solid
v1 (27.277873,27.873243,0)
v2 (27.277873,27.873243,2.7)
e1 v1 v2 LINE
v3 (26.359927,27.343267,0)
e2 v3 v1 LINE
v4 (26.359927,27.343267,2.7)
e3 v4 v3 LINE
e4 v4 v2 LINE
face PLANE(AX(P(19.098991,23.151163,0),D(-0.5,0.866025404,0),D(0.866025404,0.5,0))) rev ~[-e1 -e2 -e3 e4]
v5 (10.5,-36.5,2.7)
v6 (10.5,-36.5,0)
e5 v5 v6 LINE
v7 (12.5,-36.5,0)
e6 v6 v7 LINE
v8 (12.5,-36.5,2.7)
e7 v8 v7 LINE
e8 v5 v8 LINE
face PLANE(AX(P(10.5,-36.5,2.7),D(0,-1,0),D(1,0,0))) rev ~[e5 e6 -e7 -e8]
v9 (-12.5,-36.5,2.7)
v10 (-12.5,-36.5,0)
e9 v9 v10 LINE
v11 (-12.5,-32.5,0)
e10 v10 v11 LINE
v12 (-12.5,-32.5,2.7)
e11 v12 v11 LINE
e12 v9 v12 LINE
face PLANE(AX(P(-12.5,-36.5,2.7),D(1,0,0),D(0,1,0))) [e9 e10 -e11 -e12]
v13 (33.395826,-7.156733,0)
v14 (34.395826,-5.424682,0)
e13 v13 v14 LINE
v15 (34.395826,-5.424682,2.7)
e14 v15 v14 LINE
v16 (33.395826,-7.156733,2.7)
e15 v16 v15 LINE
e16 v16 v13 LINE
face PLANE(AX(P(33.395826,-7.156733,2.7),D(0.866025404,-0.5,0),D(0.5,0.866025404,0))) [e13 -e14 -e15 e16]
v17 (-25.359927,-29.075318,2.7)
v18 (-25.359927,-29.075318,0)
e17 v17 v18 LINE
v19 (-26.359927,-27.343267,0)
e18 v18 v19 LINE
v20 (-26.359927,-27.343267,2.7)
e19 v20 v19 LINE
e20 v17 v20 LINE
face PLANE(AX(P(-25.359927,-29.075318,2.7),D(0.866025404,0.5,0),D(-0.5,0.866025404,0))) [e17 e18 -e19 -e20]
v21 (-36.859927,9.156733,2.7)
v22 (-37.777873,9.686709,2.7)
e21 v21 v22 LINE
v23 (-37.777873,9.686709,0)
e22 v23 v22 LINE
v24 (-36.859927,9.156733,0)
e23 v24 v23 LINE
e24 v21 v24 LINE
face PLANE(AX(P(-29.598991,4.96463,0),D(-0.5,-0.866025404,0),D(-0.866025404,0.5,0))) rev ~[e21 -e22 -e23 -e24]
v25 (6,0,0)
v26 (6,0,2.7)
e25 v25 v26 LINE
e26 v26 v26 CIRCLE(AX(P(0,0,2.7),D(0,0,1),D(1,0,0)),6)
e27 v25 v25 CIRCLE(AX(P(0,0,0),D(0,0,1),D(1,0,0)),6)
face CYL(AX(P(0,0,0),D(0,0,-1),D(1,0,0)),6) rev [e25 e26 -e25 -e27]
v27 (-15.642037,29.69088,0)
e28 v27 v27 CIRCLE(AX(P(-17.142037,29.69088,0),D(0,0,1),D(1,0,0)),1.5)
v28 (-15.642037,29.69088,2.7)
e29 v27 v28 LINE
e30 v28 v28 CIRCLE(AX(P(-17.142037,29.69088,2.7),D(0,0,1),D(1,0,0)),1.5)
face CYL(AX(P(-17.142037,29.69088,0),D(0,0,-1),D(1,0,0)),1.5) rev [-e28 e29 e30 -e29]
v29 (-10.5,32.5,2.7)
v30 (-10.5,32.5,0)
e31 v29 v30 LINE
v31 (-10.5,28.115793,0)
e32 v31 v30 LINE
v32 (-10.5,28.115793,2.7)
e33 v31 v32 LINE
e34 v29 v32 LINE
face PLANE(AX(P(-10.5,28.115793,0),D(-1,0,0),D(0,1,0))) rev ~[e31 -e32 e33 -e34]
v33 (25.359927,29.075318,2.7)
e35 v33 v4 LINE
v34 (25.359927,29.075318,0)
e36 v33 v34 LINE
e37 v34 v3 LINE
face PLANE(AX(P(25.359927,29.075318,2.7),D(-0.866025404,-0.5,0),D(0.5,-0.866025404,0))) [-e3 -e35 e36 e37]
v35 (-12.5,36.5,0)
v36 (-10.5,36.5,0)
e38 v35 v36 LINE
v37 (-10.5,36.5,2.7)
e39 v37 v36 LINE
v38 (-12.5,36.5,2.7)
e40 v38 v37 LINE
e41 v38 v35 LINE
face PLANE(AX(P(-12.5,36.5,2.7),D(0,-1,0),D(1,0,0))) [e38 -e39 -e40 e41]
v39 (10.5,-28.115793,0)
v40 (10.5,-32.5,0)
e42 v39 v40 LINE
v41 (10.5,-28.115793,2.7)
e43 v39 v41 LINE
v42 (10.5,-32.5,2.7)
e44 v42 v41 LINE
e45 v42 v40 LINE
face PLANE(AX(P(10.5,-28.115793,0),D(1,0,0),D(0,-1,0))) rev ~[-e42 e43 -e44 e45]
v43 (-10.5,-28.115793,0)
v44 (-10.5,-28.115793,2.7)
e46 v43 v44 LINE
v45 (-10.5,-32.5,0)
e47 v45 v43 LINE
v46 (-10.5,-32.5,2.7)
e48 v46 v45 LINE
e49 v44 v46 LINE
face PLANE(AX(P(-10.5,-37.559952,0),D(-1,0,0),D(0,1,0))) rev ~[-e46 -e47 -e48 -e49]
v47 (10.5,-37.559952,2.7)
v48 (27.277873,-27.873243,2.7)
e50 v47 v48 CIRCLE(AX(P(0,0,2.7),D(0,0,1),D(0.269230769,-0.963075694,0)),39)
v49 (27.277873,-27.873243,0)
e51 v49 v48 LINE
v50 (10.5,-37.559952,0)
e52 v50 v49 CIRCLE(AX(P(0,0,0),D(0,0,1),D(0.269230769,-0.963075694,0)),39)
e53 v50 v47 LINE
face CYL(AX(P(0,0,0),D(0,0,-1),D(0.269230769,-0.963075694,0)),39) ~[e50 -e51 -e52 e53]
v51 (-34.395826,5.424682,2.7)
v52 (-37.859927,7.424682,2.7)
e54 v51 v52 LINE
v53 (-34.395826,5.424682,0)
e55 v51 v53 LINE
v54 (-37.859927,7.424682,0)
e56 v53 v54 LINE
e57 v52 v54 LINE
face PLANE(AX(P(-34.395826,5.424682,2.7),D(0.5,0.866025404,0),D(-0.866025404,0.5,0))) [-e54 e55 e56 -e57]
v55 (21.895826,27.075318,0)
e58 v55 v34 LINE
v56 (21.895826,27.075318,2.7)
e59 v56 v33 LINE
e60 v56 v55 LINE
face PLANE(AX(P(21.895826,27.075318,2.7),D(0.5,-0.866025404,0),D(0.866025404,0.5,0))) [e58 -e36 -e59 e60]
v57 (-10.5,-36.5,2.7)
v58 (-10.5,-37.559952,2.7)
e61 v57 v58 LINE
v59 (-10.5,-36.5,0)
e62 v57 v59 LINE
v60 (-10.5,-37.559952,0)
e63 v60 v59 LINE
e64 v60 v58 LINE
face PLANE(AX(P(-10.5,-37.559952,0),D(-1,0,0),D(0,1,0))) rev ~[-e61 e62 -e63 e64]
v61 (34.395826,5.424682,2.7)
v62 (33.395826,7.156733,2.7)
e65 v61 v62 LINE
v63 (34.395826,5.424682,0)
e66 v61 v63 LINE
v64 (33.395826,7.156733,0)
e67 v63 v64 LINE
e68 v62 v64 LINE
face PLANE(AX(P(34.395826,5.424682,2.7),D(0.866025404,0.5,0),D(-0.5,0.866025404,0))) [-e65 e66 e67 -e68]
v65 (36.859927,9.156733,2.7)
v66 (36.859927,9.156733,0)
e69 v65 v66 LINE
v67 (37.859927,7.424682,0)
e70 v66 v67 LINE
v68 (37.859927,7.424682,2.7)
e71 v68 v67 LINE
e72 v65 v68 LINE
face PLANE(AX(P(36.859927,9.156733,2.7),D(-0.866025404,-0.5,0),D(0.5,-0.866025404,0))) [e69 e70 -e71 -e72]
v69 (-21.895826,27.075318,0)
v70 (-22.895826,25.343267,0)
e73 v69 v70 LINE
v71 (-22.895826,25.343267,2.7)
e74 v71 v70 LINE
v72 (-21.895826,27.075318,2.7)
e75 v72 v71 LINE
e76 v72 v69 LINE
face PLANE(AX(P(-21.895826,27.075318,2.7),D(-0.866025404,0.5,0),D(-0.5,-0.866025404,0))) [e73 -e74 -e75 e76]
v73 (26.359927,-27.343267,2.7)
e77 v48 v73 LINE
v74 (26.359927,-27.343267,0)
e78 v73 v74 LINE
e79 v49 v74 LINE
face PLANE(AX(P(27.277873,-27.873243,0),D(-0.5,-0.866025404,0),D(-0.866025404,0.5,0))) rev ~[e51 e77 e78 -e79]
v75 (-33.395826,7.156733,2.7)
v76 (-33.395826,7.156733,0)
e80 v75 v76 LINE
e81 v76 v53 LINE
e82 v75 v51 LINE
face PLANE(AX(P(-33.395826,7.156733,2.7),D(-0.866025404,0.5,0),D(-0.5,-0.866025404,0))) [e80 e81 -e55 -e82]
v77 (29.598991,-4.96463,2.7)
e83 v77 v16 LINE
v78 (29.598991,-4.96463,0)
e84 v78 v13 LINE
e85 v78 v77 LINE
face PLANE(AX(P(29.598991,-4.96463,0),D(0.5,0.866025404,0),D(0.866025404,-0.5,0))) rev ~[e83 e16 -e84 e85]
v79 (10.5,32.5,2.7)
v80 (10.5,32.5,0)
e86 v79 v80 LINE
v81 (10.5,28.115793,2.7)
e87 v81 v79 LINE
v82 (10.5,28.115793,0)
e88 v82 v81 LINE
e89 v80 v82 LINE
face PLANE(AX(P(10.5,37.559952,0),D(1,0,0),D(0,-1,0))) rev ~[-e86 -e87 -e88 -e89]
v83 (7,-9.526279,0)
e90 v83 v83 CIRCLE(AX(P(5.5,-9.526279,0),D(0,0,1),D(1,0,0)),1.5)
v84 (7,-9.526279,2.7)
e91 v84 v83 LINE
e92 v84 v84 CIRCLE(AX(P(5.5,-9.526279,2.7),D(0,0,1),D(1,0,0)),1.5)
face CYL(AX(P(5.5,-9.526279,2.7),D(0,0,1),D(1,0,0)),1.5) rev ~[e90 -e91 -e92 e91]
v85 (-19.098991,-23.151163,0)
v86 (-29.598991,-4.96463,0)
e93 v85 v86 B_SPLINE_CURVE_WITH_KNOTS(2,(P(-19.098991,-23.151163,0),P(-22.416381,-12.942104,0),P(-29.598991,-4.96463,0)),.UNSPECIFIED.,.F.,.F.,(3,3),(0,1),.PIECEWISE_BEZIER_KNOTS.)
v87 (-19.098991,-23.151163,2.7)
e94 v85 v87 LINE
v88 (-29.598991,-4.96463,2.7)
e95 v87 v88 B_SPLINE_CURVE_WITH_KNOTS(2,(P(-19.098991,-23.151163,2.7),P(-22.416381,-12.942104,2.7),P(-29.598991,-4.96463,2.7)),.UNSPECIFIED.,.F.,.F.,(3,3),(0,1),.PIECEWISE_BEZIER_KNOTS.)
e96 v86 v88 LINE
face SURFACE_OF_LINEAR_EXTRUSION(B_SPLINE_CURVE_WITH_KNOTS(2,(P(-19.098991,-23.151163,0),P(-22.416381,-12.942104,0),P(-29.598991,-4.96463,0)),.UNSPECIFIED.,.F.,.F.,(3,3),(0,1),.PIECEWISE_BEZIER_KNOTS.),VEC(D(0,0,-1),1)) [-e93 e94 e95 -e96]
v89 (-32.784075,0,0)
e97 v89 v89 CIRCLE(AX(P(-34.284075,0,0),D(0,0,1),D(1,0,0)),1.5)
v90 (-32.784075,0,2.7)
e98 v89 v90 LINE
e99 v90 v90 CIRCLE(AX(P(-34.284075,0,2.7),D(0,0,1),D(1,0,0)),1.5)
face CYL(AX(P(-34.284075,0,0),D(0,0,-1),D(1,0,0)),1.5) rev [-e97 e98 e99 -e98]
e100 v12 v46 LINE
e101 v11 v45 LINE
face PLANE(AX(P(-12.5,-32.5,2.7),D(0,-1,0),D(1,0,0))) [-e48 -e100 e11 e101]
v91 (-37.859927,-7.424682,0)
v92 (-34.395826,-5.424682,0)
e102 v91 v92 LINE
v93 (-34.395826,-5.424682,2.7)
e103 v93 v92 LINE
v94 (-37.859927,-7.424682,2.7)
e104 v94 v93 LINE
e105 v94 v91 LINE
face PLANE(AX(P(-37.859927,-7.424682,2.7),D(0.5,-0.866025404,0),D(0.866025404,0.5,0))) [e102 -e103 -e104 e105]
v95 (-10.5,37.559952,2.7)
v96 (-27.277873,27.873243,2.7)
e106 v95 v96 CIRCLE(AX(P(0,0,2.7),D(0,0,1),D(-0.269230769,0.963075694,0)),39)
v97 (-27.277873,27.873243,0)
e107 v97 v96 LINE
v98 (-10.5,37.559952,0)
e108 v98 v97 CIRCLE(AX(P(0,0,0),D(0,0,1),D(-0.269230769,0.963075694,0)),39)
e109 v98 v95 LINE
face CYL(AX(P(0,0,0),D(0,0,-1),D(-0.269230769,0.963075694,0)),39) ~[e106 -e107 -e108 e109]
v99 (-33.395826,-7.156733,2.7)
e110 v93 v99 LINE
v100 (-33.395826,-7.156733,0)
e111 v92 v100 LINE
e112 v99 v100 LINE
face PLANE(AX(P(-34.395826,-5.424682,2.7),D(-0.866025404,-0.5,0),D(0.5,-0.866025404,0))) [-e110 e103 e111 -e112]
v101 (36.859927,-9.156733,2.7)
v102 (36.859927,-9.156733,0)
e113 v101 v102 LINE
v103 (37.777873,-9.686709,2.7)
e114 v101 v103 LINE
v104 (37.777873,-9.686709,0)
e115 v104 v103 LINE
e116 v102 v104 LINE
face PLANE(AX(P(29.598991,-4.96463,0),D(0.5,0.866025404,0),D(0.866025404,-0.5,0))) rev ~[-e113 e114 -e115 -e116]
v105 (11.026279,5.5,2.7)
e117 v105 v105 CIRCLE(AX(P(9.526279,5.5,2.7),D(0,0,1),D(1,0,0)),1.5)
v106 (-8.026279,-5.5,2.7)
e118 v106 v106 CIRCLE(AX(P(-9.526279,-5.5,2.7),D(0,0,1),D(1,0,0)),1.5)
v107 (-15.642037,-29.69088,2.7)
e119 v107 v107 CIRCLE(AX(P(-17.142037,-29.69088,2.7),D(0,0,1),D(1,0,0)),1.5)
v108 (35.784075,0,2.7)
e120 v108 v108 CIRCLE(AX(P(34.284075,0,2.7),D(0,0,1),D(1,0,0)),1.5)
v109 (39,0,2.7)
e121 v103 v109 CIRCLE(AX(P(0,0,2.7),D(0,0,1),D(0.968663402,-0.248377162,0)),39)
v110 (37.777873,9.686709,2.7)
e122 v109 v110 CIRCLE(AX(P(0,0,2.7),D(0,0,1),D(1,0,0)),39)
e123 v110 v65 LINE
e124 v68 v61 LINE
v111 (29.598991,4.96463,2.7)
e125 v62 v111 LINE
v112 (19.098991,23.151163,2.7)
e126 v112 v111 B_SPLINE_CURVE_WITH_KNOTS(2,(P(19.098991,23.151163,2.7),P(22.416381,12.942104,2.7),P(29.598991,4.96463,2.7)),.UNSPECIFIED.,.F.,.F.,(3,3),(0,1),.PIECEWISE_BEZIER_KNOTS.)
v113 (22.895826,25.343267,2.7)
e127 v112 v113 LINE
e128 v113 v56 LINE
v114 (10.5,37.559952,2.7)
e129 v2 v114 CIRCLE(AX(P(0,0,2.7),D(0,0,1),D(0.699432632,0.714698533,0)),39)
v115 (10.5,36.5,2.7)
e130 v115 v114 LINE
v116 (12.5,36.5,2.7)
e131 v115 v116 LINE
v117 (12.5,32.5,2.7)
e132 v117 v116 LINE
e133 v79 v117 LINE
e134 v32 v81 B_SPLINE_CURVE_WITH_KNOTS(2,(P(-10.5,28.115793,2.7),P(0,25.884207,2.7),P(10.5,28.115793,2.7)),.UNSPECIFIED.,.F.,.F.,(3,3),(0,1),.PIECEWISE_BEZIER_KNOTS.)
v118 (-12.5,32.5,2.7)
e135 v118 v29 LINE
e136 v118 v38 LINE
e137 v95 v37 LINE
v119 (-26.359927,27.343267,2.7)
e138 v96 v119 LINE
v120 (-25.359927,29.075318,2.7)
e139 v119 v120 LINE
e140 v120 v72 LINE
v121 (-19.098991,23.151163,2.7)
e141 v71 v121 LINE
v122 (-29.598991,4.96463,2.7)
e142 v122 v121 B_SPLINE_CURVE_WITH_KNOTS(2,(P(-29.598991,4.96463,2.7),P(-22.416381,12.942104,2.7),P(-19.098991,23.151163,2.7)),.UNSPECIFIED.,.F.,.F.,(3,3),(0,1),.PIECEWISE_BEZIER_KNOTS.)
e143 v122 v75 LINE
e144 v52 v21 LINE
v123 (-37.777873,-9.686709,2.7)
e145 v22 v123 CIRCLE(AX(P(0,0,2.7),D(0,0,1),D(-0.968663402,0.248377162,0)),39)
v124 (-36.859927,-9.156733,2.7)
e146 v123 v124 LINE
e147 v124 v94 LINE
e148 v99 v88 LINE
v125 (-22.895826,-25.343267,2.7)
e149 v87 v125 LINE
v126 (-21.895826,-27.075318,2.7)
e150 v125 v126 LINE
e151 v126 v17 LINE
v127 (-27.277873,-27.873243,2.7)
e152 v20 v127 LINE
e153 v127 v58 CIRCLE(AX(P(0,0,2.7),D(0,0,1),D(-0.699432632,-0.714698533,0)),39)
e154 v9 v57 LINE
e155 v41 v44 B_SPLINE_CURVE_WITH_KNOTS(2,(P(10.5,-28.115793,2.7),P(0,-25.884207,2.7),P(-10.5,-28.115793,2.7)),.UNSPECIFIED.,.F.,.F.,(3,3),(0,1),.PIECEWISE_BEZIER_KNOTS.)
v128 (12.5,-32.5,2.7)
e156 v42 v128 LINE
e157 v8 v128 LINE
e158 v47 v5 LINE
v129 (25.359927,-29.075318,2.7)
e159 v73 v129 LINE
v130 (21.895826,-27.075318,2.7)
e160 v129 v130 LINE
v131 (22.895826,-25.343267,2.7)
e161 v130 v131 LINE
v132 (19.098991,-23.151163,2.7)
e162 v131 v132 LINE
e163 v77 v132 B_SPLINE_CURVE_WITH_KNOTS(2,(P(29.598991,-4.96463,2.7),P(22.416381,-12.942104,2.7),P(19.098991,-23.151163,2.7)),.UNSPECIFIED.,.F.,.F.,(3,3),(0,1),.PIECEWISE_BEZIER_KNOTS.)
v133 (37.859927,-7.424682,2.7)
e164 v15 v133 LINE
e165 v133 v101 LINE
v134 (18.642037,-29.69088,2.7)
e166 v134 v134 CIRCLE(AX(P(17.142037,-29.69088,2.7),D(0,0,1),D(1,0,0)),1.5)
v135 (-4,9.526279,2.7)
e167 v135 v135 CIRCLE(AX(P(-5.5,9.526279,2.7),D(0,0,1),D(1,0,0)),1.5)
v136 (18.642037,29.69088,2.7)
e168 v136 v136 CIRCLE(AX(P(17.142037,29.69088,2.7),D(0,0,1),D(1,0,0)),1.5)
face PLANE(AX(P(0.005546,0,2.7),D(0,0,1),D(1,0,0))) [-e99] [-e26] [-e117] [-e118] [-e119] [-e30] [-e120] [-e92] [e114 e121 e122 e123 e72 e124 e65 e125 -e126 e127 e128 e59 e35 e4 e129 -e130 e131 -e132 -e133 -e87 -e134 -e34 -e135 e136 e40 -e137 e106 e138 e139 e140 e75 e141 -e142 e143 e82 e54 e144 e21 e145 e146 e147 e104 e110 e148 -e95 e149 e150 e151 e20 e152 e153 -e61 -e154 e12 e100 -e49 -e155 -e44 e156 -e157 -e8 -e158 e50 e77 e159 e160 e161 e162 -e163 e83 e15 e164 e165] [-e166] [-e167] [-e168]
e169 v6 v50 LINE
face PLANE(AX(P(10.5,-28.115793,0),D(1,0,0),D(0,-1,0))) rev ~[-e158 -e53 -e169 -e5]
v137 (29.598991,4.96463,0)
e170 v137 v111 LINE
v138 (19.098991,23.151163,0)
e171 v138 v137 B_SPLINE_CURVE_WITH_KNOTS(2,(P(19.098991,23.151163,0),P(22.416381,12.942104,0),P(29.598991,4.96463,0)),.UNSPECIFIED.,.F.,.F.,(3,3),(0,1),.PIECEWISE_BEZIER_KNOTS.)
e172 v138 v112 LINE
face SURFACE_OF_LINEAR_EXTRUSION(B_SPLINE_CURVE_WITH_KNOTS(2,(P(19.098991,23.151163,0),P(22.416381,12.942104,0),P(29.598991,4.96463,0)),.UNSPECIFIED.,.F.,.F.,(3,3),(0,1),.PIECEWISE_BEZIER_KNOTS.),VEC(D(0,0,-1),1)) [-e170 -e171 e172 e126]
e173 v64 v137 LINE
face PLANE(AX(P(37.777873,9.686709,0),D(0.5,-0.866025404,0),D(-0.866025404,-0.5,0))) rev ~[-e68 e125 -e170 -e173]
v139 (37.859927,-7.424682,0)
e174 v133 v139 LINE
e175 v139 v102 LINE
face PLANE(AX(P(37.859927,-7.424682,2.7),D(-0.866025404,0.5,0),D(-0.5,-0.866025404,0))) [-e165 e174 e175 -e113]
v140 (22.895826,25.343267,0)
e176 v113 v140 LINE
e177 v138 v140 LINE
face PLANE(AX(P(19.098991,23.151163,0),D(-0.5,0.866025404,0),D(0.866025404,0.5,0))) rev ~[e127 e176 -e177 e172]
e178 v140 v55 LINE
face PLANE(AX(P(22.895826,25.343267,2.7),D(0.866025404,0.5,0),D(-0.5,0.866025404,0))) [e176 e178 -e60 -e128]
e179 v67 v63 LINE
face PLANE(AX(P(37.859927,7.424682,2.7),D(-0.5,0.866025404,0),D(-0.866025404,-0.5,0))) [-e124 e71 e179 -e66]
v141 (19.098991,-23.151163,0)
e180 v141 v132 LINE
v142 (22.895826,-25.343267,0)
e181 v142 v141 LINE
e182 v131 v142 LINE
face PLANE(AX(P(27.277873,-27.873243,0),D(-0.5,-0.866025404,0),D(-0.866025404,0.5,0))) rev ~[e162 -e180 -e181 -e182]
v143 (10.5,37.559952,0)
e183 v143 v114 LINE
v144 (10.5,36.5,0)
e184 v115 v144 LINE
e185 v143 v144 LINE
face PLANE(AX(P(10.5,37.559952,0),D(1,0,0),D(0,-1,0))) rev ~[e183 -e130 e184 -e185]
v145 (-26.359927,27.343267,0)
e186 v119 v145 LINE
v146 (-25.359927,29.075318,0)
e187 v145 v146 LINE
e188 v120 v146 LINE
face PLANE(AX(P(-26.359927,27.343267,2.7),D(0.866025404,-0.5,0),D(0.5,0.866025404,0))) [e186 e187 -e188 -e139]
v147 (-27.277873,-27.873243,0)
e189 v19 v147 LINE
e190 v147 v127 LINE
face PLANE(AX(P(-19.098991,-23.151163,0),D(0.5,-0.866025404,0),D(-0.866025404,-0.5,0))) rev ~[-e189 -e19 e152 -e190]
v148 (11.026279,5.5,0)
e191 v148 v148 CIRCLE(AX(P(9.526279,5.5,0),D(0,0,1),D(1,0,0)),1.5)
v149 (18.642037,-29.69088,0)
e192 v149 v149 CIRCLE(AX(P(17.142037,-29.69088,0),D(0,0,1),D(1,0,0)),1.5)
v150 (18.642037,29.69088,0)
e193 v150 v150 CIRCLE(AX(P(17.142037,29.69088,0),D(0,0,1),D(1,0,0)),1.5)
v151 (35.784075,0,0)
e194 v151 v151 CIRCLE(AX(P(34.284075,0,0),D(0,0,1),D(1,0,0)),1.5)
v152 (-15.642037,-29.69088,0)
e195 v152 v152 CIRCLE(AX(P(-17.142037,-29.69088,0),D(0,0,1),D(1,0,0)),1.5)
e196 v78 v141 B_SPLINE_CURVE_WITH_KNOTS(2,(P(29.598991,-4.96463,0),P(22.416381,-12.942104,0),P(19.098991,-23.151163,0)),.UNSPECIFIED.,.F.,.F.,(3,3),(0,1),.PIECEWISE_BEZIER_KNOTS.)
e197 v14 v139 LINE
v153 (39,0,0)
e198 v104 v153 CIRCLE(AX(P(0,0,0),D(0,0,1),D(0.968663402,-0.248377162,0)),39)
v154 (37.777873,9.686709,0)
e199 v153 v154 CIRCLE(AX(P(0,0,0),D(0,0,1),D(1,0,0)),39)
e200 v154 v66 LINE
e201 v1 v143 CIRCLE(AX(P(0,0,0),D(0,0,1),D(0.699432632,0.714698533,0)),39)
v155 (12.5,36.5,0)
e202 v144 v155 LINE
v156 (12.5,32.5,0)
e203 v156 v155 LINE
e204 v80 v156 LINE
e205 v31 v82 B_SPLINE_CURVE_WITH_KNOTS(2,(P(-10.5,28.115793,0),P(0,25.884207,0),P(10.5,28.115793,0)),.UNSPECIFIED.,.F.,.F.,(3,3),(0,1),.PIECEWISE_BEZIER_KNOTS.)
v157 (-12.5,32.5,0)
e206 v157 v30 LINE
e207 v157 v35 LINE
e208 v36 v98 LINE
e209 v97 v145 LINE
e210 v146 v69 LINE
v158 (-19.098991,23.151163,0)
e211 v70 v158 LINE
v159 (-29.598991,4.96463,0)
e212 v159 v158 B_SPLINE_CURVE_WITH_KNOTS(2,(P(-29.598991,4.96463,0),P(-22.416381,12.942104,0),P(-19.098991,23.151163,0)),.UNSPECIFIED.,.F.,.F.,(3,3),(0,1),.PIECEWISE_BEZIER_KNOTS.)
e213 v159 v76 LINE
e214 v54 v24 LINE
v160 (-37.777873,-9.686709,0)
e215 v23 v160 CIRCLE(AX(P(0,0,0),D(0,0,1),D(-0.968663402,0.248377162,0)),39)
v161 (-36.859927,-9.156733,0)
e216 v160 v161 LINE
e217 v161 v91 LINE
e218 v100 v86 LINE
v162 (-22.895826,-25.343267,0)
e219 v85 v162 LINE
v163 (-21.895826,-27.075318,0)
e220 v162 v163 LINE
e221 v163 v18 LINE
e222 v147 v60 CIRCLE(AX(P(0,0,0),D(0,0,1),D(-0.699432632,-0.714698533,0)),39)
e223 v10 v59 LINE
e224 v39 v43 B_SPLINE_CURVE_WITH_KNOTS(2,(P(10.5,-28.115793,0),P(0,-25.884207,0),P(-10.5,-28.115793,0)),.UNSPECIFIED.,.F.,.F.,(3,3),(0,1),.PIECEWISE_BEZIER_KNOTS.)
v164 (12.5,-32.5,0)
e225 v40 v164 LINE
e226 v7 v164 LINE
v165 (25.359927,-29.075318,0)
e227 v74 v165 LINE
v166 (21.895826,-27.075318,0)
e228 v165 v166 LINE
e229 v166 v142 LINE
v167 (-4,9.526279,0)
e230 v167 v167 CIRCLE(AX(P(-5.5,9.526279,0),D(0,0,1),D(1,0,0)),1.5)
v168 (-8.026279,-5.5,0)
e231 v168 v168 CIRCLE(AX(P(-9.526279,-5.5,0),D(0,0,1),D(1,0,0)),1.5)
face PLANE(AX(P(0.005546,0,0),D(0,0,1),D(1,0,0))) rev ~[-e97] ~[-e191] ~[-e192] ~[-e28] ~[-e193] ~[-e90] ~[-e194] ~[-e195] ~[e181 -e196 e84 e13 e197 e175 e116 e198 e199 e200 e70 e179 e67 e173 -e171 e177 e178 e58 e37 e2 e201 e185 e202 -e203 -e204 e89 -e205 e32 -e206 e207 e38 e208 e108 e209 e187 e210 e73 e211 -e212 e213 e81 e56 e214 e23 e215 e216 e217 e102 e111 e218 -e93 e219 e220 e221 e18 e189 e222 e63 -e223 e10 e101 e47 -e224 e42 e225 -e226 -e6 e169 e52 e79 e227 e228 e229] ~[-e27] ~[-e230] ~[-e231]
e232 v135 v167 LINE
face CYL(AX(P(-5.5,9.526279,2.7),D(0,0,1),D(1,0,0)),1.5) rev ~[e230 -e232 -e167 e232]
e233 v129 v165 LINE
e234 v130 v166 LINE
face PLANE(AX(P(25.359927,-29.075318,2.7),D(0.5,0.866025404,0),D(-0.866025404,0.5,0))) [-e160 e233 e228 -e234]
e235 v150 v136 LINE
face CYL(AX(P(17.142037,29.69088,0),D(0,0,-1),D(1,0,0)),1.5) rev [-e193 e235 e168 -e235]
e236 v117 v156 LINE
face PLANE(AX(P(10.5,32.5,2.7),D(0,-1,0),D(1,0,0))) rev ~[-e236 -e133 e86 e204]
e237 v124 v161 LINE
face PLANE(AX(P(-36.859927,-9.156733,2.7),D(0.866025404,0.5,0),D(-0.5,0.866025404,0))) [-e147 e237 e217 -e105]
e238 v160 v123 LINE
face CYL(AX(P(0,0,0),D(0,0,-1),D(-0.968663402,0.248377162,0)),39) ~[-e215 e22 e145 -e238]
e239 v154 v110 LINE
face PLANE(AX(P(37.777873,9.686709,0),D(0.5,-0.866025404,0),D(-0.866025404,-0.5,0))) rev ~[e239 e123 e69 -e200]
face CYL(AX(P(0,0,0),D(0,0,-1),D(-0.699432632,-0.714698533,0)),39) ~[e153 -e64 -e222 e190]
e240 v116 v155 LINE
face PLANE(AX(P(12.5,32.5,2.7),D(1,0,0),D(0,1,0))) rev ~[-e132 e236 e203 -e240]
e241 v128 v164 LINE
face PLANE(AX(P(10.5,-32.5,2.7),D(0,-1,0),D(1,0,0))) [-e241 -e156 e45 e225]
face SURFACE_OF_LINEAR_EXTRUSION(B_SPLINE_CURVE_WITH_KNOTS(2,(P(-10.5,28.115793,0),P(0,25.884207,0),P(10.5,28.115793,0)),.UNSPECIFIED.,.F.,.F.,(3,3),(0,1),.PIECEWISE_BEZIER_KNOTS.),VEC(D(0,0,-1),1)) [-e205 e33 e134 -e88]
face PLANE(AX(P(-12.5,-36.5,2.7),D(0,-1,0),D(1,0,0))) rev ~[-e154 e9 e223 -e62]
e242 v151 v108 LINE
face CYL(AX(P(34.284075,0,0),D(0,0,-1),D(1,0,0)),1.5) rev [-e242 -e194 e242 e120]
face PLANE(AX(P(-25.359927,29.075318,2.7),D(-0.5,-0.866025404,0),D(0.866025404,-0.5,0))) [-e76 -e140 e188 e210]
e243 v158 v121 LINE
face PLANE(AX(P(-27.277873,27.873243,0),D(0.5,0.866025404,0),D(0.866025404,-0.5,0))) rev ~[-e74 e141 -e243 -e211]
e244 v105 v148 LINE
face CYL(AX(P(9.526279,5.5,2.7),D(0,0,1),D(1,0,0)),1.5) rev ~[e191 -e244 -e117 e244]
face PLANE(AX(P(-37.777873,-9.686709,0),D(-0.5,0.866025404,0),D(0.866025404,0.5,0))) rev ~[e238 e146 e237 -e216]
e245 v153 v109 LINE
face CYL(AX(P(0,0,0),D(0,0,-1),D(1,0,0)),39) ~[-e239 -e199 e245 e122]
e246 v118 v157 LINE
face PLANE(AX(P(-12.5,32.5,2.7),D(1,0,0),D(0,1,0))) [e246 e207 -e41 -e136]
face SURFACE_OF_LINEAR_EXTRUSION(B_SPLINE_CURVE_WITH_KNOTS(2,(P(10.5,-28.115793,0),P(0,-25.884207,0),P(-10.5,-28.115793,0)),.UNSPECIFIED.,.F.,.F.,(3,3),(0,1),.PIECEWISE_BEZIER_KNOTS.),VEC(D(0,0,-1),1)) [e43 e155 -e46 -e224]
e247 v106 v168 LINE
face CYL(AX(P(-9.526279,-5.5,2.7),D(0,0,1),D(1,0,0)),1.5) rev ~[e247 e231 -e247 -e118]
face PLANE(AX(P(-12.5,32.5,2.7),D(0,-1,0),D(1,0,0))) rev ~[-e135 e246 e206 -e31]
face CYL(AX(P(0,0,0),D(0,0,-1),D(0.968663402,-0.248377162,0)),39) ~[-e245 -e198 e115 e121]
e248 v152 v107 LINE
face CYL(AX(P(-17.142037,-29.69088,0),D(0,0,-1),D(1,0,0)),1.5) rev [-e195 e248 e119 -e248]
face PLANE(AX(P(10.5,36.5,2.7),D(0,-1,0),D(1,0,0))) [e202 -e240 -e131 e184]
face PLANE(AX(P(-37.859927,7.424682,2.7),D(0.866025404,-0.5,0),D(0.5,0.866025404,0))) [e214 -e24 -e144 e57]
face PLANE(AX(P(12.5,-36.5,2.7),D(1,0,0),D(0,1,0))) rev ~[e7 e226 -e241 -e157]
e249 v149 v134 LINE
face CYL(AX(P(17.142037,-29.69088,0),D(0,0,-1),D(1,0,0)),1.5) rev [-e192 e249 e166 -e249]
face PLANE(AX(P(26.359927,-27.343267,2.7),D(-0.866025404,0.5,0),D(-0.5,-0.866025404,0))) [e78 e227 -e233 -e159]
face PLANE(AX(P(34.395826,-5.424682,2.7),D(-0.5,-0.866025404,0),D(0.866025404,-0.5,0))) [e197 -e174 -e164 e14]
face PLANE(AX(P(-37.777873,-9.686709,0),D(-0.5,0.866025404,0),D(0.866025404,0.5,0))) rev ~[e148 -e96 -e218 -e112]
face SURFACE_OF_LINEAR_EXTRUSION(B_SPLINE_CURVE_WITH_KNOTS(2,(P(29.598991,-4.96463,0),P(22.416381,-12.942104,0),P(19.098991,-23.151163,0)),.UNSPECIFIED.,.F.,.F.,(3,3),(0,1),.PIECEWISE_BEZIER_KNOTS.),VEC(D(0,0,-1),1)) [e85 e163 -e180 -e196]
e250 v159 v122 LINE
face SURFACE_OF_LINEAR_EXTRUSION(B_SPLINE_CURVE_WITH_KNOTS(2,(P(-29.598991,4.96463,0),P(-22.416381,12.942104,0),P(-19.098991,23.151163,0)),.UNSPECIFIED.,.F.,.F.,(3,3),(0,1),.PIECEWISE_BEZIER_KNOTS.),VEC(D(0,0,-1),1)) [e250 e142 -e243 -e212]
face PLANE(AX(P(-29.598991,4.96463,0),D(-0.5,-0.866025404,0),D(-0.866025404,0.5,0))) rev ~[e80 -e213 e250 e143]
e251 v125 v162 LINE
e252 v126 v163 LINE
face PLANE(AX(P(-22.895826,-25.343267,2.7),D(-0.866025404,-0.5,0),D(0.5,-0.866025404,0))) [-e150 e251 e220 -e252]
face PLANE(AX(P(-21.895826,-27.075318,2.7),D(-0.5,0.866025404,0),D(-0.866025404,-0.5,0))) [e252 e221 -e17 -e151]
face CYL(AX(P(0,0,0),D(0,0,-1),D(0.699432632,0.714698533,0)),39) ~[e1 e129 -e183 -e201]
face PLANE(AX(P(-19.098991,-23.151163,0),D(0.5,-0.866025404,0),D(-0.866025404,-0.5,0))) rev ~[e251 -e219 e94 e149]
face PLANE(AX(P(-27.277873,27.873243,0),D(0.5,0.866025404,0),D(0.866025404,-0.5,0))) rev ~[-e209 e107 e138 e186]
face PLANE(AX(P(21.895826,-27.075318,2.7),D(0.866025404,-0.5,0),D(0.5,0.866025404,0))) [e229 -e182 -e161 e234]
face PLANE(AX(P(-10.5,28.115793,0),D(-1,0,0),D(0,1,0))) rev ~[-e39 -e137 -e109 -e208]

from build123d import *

# Parameters (mm, degrees)
CROQUIS2_R                 = 1.5
CROQUIS2_R_2               = 6
SALIENTE_EXTRUIR2_DEPTH    = 2.7
CROQUIS3_R                 = 1.5
CROQUIS3_W                 = 2
CROQUIS3_H                 = 4
CORTAR_EXTRUIR1_DEPTH      = 1.0000001
CORTAR_EXTRUIR1_DEPTH_BACK = 3.7000001


with BuildPart() as part:
    # Croquis2 → Saliente-Extruir2 (new body)
    with BuildSketch(Plane.XY):
        with BuildLine():
            Line((-10.5, 28.115792599), (-10.5, 37.559952077))
            ThreePointArc((-10.5, 37.559952077), (-19.5, 33.774990748), (-27.277872663, 27.873242778))
            Line((-27.277872663, 27.873242778), (-19.098990638, 23.151163039))
            add(Edge.make_bspline(
                [(-29.598990638, 4.96462956), (-22.416381166, 12.9421037), (-19.098990638, 23.151163039)],
                knots=[0, 0, 0, 1, 1, 1], degree=2))
            Line((-29.598990638, 4.96462956), (-37.777872663, 9.686709299))
            ThreePointArc((-37.777872663, 9.686709299), (-39, 0), (-37.777872663, -9.686709299))
            Line((-37.777872663, -9.686709299), (-29.598990638, -4.96462956))
            add(Edge.make_bspline(
                [(-19.098990638, -23.151163039), (-22.416381166, -12.9421037), (-29.598990638, -4.96462956)],
                knots=[0, 0, 0, 1, 1, 1], degree=2))
            Line((-19.098990638, -23.151163039), (-27.277872663, -27.873242778))
            ThreePointArc((-27.277872663, -27.873242778), (-19.5, -33.774990748), (-10.5, -37.559952077))
            Line((-10.5, -37.559952077), (-10.5, -28.115792599))
            add(Edge.make_bspline(
                [(10.5, -28.115792599), (0, -25.884207401), (-10.5, -28.115792599)],
                knots=[0, 0, 0, 1, 1, 1], degree=2))
            Line((10.5, -28.115792599), (10.5, -37.559952077))
            ThreePointArc((10.5, -37.559952077), (19.5, -33.774990748), (27.277872663, -27.873242778))
            Line((27.277872663, -27.873242778), (19.098990638, -23.151163039))
            add(Edge.make_bspline(
                [(29.598990638, -4.96462956), (22.416381166, -12.9421037), (19.098990638, -23.151163039)],
                knots=[0, 0, 0, 1, 1, 1], degree=2))
            Line((29.598990638, -4.96462956), (37.777872663, -9.686709299))
            ThreePointArc((37.777872663, -9.686709299), (38.693261906, -4.88175), (39, 0))
            ThreePointArc((39, 0), (38.693261906, 4.88175), (37.777872663, 9.686709299))
            Line((37.777872663, 9.686709299), (29.598990638, 4.96462956))
            add(Edge.make_bspline(
                [(19.098990638, 23.151163039), (22.416381166, 12.9421037), (29.598990638, 4.96462956)],
                knots=[0, 0, 0, 1, 1, 1], degree=2))
            Line((19.098990638, 23.151163039), (27.277872663, 27.873242778))
            ThreePointArc((27.277872663, 27.873242778), (19.5, 33.774990748), (10.5, 37.559952077))
            Line((10.5, 37.559952077), (10.5, 28.115792599))
            add(Edge.make_bspline(
                [(-10.5, 28.115792599), (0, 25.884207401), (10.5, 28.115792599)],
                knots=[0, 0, 0, 1, 1, 1], degree=2))
        make_face()
        with Locations((-17.142037335, -29.69087961)):
            Circle(CROQUIS2_R, mode=Mode.SUBTRACT)
        with Locations((-34.28407467, 0)):
            Circle(CROQUIS2_R, mode=Mode.SUBTRACT)
        with Locations((17.142037335, -29.69087961)):
            Circle(CROQUIS2_R, mode=Mode.SUBTRACT)
        with Locations((-17.142037335, 29.69087961)):
            Circle(CROQUIS2_R, mode=Mode.SUBTRACT)
        Circle(CROQUIS2_R_2, mode=Mode.SUBTRACT)
        with Locations((34.28407467, 0)):
            Circle(CROQUIS2_R, mode=Mode.SUBTRACT)
        with Locations((17.142037335, 29.69087961)):
            Circle(CROQUIS2_R, mode=Mode.SUBTRACT)
    extrude(amount=SALIENTE_EXTRUIR2_DEPTH)

    # Croquis3 → Cortar-Extruir1 (cut, two sides)
    with BuildSketch(Plane.XY.offset(2.7)) as cortar_extruir1_sk:
        with Locations((9.526279442, 5.5)):
            Circle(CROQUIS3_R)
        with Locations((5.5, -9.526279442)):
            Circle(CROQUIS3_R)
        with Locations((-9.526279442, -5.5)):
            Circle(CROQUIS3_R)
        with Locations((-5.5, 9.526279442)):
            Circle(CROQUIS3_R)
        with Locations((-11.5, 34.5)):
            Rectangle(CROQUIS3_W, CROQUIS3_H)
        with Locations((11.5, 34.5)):
            Rectangle(CROQUIS3_W, CROQUIS3_H)
        Polygon((22.895825623, 25.34326674), (21.895825623, 27.075317547), (25.359927238, 29.075317547), (26.359927238, 27.34326674), align=None)
        Polygon((36.859927238, 9.15673326), (37.859927238, 7.424682453), (34.395825623, 5.424682453), (33.395825623, 7.15673326), align=None)
        Polygon((33.395825623, -7.15673326), (34.395825623, -5.424682453), (37.859927238, -7.424682453), (36.859927238, -9.15673326), align=None)
        Polygon((26.359927238, -27.34326674), (25.359927238, -29.075317547), (21.895825623, -27.075317547), (22.895825623, -25.34326674), align=None)
        with Locations((11.5, -34.5)):
            Rectangle(CROQUIS3_W, CROQUIS3_H)
        with Locations((-11.5, -34.5)):
            Rectangle(CROQUIS3_W, CROQUIS3_H)
        Polygon((-22.895825623, -25.34326674), (-21.895825623, -27.075317547), (-25.359927238, -29.075317547), (-26.359927238, -27.34326674), align=None)
        Polygon((-36.859927238, -9.15673326), (-37.859927238, -7.424682453), (-34.395825623, -5.424682453), (-33.395825623, -7.15673326), align=None)
        Polygon((-33.395825623, 7.15673326), (-34.395825623, 5.424682453), (-37.859927238, 7.424682453), (-36.859927238, 9.15673326), align=None)
        Polygon((-26.359927238, 27.34326674), (-25.359927238, 29.075317547), (-21.895825623, 27.075317547), (-22.895825623, 25.34326674), align=None)
    extrude(amount=CORTAR_EXTRUIR1_DEPTH, mode=Mode.SUBTRACT)
    extrude(cortar_extruir1_sk.sketch, amount=-CORTAR_EXTRUIR1_DEPTH_BACK, mode=Mode.SUBTRACT)


solid = part.part
